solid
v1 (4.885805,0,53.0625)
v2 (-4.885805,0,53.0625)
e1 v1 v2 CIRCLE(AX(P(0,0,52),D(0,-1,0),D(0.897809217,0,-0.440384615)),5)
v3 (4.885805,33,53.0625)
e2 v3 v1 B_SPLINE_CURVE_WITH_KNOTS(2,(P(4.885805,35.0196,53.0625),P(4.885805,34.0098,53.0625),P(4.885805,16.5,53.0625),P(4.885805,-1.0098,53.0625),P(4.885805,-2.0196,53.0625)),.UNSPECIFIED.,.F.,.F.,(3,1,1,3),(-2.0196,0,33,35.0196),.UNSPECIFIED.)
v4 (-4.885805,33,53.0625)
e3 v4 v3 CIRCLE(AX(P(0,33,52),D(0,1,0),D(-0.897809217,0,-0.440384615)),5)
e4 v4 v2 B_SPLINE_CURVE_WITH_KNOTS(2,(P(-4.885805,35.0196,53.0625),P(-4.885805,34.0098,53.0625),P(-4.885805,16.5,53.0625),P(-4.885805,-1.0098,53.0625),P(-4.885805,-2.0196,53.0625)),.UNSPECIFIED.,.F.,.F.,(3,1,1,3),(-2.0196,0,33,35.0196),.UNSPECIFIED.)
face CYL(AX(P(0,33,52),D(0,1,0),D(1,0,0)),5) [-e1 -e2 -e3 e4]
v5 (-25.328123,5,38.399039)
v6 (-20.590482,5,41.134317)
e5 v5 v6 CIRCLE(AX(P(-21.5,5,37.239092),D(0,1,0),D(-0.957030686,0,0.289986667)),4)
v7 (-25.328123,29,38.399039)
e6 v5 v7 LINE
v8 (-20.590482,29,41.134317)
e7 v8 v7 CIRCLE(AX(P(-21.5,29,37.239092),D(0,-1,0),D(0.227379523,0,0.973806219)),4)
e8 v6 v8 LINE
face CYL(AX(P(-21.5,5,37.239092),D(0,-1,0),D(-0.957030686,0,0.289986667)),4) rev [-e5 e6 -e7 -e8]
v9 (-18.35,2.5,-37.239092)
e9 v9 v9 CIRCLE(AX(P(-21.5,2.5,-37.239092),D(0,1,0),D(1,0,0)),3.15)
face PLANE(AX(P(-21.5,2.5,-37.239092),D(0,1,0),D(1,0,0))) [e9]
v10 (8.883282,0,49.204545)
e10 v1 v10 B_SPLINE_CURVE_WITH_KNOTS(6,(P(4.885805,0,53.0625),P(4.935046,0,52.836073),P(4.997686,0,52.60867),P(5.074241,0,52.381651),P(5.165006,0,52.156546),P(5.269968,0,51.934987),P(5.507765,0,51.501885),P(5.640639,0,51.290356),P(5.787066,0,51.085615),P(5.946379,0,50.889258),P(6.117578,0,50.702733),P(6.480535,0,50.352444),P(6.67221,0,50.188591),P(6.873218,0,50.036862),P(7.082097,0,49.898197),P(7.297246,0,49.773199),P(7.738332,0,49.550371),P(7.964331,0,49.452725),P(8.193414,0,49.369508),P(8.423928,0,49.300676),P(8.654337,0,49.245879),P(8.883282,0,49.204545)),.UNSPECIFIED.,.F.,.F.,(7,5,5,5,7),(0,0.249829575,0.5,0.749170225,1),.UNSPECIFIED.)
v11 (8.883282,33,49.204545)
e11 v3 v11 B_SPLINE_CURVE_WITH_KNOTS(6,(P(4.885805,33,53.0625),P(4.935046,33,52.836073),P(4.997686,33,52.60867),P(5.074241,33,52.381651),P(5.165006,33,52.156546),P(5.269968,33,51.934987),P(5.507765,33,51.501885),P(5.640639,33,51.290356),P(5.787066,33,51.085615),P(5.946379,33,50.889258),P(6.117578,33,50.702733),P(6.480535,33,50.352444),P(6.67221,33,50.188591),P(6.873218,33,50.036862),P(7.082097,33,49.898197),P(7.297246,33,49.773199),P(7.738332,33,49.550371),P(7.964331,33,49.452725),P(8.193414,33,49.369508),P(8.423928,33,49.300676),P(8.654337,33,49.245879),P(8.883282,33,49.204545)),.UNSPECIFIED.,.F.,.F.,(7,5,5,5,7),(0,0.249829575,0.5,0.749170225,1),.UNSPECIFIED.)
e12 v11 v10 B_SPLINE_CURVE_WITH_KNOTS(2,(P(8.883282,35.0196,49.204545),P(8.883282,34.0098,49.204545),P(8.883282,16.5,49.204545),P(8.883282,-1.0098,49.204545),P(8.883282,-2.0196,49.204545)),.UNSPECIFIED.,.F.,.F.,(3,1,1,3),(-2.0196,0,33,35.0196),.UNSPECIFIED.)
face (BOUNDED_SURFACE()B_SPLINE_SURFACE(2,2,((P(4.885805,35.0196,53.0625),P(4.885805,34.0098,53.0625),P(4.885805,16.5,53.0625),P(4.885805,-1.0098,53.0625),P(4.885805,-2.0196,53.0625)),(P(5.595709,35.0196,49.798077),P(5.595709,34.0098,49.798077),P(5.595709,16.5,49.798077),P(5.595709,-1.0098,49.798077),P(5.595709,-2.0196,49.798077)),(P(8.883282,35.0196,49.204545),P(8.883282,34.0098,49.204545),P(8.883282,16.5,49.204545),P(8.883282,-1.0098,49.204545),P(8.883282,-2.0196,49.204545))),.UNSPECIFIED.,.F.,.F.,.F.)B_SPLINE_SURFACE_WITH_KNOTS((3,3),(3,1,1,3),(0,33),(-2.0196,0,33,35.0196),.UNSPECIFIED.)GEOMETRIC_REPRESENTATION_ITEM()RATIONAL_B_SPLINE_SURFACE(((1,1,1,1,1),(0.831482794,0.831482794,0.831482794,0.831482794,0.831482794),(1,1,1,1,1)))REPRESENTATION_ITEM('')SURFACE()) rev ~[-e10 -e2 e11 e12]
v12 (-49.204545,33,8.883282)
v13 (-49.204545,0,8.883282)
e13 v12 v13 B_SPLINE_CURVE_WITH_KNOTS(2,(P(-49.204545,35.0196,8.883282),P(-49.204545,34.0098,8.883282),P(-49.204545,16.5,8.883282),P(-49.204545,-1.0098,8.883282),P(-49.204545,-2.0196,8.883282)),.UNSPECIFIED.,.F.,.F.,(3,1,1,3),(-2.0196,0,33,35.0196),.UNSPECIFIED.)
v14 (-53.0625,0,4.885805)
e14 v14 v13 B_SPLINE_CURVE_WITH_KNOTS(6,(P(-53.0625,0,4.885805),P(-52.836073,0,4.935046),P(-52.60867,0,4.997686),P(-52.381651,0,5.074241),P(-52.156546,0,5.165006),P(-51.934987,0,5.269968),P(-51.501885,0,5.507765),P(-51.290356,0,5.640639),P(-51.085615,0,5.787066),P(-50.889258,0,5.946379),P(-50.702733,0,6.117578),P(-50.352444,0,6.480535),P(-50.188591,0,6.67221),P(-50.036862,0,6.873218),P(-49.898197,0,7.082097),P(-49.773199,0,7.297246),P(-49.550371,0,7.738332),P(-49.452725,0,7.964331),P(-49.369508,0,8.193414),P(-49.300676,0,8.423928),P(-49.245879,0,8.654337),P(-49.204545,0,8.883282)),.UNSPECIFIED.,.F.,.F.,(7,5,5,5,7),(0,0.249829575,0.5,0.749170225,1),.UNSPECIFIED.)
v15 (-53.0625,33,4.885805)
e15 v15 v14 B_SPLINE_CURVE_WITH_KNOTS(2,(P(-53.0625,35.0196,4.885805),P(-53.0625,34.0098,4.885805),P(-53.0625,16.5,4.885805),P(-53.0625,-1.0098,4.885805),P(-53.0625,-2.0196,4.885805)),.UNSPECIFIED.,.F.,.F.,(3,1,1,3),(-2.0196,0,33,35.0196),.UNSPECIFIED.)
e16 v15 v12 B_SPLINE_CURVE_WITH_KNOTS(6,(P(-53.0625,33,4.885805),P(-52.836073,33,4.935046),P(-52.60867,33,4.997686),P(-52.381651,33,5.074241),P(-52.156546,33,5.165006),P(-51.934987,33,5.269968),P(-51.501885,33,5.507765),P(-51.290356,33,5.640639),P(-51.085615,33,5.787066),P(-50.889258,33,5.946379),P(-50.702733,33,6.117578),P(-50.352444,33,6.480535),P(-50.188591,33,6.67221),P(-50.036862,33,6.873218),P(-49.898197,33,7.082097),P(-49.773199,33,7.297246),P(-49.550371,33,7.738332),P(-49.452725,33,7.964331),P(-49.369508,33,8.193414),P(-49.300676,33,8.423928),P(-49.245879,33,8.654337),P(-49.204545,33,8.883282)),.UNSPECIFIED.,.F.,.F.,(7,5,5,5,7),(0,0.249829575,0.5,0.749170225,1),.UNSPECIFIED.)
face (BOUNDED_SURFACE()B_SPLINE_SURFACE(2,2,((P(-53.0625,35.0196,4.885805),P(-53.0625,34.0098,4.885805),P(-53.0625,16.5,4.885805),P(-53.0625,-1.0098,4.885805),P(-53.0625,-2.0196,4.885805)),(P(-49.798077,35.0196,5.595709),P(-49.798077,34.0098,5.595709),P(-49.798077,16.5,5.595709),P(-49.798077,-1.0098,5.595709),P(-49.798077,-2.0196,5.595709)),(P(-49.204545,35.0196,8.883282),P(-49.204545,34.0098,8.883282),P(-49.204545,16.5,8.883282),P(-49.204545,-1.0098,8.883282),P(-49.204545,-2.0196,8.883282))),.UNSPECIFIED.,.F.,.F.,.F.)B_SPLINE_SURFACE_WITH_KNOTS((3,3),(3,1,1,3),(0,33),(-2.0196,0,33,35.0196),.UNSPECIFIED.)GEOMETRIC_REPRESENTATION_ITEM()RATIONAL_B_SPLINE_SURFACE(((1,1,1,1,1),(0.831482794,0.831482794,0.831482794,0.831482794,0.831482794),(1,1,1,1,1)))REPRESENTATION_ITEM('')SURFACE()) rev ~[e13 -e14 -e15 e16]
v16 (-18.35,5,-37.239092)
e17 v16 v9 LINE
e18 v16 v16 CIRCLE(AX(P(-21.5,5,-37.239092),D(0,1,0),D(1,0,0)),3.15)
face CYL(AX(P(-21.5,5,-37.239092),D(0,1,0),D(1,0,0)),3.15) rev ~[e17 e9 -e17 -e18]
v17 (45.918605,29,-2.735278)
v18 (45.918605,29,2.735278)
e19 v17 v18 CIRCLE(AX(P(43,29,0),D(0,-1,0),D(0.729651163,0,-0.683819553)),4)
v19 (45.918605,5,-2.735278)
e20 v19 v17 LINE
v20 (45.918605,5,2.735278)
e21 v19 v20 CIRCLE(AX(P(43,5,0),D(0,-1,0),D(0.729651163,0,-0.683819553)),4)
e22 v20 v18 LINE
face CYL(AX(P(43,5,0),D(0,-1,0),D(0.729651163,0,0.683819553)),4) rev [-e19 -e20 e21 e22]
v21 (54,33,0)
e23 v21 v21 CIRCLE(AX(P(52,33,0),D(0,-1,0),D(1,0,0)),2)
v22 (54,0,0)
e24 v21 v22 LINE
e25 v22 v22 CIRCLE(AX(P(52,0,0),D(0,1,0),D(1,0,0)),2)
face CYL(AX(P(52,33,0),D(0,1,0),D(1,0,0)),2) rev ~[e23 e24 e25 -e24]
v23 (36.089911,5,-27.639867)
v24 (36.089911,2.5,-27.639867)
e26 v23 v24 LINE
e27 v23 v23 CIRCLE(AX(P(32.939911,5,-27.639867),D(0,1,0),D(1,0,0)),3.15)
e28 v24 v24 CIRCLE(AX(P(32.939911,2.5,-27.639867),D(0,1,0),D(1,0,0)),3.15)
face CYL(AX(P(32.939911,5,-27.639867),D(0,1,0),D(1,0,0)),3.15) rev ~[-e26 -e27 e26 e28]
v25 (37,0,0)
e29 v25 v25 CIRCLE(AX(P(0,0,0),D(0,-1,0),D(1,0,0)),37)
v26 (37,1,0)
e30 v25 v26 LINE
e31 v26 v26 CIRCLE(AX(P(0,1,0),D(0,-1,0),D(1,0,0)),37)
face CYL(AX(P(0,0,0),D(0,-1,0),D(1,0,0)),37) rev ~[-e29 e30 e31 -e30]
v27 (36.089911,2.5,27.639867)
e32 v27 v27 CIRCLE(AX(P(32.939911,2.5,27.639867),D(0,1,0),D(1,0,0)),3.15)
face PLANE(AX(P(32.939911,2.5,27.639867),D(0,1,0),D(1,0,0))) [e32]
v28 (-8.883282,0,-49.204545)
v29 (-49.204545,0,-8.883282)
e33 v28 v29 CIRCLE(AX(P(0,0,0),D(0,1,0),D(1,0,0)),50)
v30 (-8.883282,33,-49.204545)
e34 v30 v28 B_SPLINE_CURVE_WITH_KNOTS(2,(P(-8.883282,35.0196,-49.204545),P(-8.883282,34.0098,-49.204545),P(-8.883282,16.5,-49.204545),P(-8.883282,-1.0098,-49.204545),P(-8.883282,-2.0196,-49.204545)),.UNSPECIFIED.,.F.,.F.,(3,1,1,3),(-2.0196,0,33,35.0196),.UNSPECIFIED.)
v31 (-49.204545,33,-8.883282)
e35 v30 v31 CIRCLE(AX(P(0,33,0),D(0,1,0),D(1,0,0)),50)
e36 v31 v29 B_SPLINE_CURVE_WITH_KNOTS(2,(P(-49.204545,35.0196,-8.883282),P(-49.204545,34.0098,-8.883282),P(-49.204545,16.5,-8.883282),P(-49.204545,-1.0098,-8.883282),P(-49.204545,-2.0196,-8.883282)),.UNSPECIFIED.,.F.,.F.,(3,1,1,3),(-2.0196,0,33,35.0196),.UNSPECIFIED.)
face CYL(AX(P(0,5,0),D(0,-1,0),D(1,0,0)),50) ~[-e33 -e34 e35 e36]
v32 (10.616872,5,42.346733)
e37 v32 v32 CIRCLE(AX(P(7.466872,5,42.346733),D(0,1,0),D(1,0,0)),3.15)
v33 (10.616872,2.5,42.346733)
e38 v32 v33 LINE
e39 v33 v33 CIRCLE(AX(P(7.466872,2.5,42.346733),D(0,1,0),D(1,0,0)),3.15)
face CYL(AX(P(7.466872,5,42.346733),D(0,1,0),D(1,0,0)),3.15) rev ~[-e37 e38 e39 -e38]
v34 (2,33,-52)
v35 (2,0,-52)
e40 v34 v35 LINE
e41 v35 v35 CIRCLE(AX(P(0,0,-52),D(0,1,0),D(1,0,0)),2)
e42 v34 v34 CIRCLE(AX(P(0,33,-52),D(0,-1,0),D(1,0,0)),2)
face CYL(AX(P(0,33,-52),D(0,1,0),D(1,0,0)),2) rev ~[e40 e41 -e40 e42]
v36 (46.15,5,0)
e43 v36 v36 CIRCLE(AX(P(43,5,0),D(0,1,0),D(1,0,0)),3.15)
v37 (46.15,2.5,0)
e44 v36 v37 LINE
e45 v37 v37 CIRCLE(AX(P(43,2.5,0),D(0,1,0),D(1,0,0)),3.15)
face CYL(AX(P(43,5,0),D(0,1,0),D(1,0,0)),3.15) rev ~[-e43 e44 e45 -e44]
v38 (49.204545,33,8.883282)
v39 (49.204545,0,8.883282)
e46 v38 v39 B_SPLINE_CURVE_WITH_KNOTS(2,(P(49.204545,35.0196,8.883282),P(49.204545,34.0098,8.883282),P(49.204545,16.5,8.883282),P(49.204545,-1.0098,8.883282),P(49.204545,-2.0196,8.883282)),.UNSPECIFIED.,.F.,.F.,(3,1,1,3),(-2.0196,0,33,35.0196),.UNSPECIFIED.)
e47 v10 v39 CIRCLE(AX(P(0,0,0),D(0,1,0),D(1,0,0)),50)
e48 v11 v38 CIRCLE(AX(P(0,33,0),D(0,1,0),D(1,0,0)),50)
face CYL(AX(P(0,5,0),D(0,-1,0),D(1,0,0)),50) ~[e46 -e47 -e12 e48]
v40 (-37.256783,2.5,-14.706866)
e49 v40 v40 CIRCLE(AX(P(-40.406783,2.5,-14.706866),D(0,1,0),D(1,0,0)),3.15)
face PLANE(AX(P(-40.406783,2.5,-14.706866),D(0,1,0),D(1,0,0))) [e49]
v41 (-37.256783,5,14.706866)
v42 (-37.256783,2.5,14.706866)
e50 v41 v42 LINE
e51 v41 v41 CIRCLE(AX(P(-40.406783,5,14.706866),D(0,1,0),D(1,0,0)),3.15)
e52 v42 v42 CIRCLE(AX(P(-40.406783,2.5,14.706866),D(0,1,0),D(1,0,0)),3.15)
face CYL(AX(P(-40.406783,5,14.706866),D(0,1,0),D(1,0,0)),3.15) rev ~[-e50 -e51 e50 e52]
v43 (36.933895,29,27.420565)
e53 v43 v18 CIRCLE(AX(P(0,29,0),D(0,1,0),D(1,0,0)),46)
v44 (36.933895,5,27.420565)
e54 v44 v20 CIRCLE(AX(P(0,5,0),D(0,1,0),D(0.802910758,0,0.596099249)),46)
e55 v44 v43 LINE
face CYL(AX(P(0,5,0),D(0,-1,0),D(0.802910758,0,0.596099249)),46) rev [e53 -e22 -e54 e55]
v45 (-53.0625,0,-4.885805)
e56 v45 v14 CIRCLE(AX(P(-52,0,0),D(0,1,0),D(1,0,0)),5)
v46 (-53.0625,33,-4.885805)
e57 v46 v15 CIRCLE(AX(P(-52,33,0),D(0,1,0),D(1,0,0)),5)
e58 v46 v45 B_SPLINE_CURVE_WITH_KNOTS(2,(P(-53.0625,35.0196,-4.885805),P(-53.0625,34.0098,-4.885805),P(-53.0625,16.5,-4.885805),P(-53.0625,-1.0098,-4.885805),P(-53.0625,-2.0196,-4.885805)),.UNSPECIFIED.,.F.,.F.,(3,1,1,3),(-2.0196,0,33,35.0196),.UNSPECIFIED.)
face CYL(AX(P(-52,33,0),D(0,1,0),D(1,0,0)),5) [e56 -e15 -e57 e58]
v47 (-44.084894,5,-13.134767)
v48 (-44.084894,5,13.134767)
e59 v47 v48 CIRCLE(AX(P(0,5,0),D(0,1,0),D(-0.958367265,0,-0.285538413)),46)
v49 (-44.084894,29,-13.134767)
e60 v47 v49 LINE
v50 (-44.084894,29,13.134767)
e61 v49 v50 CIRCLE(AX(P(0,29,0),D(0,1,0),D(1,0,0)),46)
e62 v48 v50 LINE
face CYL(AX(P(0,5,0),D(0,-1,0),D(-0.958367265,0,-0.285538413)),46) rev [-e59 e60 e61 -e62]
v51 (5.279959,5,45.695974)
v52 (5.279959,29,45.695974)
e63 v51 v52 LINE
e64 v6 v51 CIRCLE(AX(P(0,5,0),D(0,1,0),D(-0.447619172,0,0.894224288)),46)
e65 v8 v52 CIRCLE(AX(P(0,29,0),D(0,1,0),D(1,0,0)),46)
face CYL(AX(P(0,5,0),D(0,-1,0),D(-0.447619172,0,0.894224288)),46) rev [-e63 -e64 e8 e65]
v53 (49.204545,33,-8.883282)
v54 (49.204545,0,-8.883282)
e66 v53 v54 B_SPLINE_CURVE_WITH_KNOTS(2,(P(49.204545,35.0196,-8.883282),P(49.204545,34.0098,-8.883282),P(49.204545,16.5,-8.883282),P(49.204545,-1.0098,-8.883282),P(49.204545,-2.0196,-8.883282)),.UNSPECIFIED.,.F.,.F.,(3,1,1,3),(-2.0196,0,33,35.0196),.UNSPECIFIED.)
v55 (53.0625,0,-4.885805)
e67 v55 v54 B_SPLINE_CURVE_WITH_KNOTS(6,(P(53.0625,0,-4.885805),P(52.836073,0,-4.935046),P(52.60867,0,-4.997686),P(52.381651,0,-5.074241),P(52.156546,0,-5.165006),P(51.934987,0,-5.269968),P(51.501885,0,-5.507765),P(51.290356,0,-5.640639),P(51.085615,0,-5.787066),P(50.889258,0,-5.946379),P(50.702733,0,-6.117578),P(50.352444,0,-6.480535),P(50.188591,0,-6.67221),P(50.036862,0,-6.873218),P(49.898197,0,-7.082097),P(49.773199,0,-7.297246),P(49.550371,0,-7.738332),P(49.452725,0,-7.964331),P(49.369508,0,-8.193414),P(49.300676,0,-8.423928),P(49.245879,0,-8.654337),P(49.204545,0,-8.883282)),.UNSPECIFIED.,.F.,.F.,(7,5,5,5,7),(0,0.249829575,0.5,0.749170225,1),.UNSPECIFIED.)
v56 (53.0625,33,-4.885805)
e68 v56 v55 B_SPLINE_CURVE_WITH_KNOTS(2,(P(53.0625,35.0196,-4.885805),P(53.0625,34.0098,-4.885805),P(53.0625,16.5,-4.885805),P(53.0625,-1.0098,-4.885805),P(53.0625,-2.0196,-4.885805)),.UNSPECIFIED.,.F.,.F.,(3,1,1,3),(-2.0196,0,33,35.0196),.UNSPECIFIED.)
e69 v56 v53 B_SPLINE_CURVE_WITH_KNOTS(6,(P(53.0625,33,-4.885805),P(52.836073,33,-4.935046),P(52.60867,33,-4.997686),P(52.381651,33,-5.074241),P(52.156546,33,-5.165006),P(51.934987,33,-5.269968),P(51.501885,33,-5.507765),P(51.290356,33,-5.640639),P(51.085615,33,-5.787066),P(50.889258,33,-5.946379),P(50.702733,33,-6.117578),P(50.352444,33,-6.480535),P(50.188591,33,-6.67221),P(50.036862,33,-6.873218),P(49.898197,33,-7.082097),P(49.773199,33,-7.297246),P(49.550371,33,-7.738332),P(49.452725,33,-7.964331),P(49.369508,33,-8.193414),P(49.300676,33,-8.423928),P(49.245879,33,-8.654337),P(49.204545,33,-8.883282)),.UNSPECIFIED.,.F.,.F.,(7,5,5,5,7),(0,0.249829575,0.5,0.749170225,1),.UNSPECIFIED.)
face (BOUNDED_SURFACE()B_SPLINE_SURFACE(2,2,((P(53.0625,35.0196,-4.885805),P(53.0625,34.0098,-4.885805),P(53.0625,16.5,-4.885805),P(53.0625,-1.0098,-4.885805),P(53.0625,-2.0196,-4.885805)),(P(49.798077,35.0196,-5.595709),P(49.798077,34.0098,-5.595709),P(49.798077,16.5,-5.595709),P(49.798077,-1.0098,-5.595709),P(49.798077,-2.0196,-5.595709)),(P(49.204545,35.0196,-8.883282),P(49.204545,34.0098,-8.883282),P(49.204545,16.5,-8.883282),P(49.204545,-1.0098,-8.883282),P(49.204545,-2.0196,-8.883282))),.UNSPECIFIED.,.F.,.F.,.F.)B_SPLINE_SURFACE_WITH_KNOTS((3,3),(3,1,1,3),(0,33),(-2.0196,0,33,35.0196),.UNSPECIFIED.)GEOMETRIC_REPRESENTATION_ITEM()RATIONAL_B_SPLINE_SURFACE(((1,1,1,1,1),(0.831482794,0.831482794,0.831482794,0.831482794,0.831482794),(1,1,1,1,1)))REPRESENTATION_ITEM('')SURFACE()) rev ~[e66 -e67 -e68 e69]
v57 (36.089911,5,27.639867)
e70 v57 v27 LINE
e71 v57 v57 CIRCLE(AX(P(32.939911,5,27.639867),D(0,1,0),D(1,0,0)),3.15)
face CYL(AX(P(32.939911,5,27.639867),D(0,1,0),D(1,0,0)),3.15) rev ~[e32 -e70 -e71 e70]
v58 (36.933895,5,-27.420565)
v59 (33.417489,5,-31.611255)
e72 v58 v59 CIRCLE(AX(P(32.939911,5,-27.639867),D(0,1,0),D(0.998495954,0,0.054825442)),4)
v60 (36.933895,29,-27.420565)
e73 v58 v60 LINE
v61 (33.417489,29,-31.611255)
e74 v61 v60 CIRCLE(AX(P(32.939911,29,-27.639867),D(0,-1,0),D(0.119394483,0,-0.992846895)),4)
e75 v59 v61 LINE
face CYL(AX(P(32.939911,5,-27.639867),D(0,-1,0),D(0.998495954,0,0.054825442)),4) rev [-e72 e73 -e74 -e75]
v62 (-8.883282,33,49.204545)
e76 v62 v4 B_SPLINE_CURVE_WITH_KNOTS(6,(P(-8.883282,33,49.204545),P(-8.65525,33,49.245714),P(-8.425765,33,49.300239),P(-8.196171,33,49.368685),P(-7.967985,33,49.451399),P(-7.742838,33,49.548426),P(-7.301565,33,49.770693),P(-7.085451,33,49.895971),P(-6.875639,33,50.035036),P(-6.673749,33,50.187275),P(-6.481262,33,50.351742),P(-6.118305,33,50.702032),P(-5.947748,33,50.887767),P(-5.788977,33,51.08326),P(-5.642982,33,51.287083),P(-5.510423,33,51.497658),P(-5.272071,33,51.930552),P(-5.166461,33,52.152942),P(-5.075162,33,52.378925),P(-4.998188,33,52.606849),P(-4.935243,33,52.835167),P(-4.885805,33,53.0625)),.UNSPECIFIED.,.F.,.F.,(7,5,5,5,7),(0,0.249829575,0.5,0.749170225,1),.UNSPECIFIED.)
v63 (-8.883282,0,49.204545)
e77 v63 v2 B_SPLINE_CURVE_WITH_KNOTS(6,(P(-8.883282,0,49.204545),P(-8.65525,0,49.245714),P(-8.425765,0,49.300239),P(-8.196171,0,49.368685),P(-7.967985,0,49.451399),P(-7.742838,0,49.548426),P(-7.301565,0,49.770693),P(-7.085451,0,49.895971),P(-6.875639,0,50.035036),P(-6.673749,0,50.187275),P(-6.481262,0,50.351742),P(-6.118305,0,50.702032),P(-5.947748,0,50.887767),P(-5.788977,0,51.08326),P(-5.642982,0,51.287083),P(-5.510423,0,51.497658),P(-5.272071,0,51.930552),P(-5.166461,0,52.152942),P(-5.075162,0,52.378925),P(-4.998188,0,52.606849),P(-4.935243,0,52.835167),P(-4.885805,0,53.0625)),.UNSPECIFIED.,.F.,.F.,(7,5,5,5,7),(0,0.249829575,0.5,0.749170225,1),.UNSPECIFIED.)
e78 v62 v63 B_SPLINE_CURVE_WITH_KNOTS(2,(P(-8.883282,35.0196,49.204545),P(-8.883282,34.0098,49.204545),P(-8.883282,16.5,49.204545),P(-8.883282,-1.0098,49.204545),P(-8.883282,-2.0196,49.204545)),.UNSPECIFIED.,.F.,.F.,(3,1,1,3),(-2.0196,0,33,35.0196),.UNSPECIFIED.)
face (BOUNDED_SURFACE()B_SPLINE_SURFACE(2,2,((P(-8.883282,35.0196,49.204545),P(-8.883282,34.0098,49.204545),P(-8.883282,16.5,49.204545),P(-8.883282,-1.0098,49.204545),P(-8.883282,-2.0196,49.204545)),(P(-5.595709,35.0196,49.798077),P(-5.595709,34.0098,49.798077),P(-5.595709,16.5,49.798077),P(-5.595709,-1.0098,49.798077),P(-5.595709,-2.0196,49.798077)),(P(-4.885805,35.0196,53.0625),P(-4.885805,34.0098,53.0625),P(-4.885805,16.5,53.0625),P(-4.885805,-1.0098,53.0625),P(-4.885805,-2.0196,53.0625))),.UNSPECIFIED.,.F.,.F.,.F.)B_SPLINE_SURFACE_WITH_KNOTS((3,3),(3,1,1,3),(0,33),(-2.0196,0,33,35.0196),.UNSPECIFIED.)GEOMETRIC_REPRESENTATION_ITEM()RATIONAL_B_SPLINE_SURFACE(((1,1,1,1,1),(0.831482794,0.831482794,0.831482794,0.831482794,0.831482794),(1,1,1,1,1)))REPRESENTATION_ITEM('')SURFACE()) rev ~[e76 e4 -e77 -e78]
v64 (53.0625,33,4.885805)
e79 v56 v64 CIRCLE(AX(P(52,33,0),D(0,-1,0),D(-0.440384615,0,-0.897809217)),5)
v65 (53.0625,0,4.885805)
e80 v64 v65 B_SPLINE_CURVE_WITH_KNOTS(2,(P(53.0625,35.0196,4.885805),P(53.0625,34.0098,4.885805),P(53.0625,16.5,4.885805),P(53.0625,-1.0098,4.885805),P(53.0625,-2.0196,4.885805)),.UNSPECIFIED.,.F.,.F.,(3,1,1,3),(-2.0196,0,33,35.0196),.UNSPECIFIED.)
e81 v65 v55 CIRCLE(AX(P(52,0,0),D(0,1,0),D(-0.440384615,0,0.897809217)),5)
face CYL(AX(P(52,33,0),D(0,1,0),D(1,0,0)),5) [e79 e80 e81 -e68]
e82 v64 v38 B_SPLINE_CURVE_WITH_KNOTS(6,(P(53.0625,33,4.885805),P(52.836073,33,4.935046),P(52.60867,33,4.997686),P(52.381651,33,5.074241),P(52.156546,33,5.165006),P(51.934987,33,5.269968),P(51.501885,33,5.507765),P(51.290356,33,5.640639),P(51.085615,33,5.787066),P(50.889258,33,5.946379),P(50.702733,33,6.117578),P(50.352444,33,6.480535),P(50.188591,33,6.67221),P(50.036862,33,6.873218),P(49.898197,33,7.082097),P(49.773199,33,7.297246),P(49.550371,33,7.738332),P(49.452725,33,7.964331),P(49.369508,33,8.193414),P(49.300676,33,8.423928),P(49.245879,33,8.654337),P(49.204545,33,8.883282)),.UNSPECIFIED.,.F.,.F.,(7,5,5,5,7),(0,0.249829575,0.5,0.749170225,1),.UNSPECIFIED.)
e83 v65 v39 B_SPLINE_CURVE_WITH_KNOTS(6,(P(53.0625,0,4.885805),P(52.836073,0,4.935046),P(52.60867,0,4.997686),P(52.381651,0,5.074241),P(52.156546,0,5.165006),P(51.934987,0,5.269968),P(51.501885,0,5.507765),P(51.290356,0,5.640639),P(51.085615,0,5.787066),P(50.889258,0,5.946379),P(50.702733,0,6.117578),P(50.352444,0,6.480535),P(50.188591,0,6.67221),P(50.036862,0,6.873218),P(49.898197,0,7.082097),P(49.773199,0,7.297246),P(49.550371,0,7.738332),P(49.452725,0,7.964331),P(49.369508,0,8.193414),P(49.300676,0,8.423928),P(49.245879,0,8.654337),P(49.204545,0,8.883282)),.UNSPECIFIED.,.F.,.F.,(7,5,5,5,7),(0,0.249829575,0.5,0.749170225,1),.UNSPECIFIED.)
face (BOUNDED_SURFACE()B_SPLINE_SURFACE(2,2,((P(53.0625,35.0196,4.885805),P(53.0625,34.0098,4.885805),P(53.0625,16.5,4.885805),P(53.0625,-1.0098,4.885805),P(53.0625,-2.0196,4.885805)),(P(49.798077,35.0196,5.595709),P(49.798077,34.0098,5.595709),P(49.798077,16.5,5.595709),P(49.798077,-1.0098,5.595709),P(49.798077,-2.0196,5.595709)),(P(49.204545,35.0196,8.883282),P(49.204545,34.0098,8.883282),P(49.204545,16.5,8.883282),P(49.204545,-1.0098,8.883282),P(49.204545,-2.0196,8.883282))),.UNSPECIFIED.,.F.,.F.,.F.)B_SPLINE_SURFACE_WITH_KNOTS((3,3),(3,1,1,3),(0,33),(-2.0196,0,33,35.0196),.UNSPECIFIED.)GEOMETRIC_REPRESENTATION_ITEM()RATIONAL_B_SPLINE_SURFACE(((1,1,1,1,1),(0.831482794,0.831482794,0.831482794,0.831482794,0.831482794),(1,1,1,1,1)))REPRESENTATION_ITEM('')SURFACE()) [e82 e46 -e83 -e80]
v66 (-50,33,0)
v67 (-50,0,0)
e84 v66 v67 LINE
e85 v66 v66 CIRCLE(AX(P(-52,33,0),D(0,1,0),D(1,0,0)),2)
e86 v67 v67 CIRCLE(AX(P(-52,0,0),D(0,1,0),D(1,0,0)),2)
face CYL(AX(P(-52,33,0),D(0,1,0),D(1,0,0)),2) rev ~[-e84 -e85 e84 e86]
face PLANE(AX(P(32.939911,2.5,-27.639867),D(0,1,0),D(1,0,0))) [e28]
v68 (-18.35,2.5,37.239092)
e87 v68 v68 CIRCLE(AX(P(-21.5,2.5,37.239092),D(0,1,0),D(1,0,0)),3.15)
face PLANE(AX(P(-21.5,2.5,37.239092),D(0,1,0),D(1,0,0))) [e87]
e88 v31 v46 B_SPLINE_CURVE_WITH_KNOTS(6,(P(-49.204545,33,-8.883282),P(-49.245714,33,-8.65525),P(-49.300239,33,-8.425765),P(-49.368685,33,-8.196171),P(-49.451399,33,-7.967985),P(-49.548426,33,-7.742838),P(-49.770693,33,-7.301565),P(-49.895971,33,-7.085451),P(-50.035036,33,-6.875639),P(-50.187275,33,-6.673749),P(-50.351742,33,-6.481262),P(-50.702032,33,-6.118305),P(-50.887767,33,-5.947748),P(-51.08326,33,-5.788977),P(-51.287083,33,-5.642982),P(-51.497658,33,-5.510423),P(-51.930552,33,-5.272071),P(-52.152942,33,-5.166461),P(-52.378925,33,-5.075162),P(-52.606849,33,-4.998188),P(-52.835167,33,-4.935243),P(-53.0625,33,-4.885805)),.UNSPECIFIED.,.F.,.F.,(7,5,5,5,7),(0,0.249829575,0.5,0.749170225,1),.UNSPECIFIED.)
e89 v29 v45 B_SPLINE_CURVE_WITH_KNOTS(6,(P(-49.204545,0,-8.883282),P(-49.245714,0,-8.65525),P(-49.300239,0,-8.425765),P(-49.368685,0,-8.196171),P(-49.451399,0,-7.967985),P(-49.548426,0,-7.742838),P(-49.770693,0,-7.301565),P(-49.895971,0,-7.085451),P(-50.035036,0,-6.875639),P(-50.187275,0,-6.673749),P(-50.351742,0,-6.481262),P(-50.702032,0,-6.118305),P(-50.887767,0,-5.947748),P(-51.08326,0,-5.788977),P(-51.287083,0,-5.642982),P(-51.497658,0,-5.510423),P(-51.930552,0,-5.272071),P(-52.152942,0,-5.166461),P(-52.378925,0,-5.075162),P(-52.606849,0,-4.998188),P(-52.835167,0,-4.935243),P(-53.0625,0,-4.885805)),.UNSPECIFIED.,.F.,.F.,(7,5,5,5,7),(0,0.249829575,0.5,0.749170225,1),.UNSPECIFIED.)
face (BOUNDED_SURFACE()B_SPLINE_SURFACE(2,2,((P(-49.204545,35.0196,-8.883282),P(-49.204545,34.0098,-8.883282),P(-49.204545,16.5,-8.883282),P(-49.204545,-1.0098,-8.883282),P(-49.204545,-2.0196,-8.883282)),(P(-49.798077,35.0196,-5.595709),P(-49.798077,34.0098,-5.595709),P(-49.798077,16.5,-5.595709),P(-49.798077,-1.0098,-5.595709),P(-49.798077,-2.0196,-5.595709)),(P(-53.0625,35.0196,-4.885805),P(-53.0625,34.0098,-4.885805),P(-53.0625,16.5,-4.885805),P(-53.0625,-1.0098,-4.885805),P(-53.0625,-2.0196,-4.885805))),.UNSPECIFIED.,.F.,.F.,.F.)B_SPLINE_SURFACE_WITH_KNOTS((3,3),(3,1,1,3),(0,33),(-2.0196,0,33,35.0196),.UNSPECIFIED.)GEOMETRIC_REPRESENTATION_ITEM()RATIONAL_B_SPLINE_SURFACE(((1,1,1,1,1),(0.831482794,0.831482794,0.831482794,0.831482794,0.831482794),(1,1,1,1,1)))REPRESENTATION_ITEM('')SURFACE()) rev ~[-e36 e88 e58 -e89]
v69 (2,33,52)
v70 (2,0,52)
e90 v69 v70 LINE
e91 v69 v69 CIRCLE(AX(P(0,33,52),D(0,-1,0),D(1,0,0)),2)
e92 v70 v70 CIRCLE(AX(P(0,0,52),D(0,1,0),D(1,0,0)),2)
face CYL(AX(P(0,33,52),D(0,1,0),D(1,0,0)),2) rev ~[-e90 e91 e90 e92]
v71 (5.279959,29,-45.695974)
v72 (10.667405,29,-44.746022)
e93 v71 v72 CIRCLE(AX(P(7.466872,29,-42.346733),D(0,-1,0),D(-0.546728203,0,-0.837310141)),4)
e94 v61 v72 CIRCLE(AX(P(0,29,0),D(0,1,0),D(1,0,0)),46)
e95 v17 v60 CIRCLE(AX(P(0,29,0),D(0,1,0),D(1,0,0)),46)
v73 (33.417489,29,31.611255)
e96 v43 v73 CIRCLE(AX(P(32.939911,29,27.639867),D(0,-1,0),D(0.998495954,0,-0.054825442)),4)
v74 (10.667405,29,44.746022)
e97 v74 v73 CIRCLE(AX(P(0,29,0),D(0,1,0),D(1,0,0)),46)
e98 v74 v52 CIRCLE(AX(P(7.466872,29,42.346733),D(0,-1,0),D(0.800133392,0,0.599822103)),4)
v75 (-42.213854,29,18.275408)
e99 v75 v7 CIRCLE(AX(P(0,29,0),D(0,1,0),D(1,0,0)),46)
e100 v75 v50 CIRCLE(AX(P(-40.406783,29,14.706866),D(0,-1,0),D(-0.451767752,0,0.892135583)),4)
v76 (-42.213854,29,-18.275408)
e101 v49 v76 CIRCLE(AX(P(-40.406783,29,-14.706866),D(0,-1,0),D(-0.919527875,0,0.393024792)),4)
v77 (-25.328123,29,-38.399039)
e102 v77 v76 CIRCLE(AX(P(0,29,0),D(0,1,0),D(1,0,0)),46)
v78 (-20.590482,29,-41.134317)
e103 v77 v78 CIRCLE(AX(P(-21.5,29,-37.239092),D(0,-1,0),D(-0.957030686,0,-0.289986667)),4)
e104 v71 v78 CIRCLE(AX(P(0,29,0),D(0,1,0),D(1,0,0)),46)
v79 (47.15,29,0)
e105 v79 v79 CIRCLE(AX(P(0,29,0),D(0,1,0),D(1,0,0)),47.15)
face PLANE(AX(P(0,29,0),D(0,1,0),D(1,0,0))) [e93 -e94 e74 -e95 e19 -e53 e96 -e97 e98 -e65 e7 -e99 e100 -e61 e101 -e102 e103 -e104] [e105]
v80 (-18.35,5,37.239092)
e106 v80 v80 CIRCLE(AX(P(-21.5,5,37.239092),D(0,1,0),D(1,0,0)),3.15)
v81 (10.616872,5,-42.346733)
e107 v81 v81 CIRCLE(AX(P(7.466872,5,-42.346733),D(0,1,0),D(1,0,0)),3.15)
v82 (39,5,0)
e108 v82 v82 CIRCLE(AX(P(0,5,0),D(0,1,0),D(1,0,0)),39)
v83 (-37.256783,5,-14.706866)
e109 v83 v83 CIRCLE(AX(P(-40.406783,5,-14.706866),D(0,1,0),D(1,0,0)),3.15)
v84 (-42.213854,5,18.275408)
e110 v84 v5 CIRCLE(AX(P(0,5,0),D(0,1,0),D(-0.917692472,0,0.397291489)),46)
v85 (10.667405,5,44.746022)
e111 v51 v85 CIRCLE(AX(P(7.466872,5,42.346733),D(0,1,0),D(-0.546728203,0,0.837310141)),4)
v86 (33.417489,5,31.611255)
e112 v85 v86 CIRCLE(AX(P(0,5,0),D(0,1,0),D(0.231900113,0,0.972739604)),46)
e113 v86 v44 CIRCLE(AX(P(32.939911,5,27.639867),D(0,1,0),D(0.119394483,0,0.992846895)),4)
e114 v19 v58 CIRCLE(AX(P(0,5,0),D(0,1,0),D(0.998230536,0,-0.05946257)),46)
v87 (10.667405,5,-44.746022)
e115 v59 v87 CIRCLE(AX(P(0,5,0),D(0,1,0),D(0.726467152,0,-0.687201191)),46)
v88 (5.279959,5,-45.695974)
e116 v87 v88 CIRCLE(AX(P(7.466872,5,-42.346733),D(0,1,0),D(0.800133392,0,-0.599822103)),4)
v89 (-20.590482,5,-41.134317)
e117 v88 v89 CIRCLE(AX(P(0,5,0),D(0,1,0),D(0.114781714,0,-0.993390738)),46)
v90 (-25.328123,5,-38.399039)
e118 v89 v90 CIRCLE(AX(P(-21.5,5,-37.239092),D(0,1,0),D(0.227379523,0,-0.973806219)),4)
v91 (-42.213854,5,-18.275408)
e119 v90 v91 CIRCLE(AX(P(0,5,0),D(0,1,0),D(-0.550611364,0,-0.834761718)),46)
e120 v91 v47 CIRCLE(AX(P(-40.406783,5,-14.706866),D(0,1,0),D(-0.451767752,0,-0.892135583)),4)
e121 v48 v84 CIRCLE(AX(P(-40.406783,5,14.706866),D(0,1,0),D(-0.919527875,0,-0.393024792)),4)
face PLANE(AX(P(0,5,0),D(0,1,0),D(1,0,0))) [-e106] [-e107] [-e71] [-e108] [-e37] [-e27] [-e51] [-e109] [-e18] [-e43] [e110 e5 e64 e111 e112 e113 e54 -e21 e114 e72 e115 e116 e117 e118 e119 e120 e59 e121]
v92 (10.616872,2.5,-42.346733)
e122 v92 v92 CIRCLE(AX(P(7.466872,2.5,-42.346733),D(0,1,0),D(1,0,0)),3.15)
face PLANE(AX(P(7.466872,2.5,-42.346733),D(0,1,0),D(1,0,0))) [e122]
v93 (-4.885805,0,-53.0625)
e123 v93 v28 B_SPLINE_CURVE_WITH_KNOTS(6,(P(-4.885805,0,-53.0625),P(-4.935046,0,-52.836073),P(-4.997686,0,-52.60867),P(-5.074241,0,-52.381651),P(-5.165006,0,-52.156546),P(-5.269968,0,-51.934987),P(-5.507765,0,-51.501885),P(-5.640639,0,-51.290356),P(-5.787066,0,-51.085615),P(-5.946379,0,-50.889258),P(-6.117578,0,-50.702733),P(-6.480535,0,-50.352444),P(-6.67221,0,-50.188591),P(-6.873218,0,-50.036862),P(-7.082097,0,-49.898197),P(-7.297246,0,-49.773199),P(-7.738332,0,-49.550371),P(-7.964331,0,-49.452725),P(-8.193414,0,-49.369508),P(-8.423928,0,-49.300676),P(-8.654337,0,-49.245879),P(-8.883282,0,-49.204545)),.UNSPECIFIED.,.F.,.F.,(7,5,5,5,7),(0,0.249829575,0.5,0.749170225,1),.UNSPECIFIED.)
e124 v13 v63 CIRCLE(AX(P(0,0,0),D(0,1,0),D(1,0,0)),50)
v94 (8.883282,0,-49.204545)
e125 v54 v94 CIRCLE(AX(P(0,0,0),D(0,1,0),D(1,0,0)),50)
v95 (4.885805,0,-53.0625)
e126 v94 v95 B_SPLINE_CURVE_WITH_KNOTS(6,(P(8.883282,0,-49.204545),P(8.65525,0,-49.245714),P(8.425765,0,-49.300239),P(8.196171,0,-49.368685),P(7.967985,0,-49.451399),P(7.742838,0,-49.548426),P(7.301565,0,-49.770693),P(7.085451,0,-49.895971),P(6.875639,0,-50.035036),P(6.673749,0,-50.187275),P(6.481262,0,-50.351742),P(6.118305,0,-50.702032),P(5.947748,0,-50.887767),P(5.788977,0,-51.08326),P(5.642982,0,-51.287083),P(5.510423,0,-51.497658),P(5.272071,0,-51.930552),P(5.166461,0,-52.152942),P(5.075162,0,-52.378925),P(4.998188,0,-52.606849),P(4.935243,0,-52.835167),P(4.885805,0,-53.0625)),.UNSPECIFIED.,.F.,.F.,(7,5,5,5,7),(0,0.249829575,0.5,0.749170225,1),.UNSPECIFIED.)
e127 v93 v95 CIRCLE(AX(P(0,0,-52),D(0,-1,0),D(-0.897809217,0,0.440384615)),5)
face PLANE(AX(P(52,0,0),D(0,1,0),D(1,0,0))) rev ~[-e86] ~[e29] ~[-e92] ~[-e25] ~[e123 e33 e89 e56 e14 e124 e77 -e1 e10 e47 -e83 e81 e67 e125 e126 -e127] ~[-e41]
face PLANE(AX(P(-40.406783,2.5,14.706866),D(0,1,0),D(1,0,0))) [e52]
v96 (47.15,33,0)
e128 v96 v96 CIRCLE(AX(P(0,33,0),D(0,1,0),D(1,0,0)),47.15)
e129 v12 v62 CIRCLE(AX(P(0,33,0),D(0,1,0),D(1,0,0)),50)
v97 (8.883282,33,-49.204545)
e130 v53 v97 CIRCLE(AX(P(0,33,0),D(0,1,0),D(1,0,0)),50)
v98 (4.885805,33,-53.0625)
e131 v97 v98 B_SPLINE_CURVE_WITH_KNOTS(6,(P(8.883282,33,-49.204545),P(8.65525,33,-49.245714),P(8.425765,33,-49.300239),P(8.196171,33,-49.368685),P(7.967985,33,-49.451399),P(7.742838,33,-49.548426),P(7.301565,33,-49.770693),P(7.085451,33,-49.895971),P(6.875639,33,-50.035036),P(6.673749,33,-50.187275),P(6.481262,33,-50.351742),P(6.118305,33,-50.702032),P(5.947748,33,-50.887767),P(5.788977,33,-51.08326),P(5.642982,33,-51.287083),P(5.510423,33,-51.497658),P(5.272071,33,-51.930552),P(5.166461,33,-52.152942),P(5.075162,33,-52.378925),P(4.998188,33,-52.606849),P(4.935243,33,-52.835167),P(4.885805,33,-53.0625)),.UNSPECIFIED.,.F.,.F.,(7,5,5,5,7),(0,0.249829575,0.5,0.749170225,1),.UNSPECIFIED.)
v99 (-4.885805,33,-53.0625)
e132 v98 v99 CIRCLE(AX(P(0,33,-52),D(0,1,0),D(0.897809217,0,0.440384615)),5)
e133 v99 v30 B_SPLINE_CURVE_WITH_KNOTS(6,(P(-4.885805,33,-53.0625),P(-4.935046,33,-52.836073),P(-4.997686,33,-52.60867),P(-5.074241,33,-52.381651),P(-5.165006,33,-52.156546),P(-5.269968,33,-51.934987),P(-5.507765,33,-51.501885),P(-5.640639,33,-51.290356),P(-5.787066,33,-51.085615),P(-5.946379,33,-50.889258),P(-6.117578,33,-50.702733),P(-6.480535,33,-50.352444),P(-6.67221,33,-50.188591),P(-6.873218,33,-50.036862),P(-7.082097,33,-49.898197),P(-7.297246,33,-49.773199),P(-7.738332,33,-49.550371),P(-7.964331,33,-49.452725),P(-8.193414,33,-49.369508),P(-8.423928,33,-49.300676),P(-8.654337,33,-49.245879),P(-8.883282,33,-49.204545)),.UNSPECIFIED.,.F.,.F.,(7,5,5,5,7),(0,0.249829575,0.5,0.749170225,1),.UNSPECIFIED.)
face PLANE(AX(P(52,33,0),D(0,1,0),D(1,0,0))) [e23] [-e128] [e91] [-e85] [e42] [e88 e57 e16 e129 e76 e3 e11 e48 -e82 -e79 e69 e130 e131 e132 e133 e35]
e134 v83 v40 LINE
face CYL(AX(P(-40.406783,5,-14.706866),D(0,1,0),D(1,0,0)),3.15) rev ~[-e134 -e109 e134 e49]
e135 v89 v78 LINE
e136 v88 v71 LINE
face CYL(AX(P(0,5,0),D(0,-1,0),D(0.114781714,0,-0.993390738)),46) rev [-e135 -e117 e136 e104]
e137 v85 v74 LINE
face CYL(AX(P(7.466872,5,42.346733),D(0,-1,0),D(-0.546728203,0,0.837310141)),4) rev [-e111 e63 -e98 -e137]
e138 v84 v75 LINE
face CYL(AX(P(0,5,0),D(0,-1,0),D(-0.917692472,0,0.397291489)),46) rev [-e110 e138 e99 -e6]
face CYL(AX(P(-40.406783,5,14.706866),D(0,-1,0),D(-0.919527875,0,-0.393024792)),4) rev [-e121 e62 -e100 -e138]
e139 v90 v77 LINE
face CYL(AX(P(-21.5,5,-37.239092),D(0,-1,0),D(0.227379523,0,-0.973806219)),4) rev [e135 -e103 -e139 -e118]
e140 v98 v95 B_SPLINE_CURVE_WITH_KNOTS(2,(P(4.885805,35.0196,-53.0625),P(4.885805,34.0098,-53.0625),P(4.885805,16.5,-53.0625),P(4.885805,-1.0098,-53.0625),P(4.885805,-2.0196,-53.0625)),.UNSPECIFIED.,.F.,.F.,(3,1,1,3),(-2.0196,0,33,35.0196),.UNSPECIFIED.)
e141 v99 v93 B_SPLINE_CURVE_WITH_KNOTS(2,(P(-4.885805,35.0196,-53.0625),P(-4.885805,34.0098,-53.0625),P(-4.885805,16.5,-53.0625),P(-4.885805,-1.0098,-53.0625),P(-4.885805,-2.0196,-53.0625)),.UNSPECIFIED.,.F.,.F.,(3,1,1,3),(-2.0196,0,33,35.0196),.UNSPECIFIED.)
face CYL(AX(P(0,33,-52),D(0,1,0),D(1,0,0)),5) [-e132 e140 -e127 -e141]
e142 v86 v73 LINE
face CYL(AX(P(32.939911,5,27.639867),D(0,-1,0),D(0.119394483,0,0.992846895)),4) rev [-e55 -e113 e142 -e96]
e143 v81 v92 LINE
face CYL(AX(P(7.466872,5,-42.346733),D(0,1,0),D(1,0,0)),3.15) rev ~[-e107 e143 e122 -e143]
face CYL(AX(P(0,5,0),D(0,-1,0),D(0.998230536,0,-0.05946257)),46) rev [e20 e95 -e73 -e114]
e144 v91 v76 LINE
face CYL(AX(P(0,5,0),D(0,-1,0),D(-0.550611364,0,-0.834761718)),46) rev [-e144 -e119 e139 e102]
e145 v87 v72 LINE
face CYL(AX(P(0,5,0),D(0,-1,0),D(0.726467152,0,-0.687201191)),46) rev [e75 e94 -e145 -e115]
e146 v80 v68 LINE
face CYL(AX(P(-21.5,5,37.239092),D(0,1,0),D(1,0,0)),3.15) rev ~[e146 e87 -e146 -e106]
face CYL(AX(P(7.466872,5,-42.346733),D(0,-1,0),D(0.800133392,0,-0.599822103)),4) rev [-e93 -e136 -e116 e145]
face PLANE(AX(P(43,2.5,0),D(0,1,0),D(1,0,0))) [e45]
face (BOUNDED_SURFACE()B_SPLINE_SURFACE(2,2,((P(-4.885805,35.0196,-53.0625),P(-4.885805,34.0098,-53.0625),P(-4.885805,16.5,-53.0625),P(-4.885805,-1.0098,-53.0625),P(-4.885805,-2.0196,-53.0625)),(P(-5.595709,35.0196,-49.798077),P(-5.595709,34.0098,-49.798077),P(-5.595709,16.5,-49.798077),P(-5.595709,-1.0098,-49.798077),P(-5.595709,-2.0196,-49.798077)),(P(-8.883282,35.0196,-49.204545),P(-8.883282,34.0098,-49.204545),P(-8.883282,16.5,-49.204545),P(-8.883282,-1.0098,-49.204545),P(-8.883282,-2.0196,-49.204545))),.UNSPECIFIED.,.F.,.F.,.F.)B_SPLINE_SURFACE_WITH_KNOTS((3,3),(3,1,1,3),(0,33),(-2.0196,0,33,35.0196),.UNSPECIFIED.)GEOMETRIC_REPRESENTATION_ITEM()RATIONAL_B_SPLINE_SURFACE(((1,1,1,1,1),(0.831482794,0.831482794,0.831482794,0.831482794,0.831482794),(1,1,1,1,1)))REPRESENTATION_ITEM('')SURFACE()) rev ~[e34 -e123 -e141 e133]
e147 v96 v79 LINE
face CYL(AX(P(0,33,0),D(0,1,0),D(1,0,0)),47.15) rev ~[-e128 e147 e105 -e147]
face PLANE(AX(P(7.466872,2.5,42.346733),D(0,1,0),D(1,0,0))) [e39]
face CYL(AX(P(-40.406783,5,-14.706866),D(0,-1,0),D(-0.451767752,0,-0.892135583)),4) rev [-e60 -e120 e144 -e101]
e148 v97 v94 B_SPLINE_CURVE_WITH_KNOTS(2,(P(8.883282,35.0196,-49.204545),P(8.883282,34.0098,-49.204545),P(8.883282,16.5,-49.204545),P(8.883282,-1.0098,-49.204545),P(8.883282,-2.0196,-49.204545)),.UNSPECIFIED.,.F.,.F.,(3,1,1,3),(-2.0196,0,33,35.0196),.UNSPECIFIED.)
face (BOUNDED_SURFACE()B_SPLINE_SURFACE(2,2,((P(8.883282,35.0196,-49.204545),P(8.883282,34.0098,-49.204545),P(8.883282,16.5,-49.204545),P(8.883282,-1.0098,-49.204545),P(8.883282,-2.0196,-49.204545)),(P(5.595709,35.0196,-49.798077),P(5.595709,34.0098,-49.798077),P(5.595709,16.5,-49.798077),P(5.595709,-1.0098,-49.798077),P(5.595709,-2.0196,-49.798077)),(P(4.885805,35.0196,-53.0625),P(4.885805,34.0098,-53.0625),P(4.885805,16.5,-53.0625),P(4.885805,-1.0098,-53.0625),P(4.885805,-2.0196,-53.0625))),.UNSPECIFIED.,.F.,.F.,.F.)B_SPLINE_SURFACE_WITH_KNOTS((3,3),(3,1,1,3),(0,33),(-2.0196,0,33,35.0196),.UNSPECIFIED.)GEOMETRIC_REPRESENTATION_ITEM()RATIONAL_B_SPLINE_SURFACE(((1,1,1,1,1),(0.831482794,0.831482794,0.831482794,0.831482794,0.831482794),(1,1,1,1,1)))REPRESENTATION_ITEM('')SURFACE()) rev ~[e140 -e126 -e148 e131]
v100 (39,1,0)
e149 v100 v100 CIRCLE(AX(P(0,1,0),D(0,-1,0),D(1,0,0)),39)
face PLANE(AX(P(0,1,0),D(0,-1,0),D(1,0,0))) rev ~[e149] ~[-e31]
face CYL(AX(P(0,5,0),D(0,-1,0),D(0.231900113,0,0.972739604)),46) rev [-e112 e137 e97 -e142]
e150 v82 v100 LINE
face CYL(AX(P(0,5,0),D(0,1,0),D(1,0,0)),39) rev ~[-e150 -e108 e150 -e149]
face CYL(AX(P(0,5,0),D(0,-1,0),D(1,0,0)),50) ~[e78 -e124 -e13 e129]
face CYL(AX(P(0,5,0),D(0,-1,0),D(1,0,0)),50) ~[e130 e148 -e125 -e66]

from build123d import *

# Parameters (mm, degrees)
SKETCH1_R           = 50
BOSS_EXTRUDE1_DEPTH = 5
SKETCH2_R           = 3
BOSS_EXTRUDE2_DEPTH = 30
SKETCH3_R           = 50
BOSS_EXTRUDE3_DEPTH = 28
SKETCH4_R           = 39
CUT_EXTRUDE1_DEPTH  = 6
SKETCH5_R           = 3
CUT_EXTRUDE2_DEPTH  = 44
SKETCH6_R           = 50
SKETCH6_R_2         = 39
BOSS_EXTRUDE4_DEPTH = 3
SKETCH7_R           = 47
SKETCH7_R_2         = 46
CUT_EXTRUDE3_DEPTH  = 4
SKETCH8_R           = 39
SKETCH8_R_2         = 37
BOSS_EXTRUDE5_DEPTH = 1
SKETCH9_R           = 5
SKETCH9_R_2         = 2
BOSS_EXTRUDE6_DEPTH = 33
FILLET1_R           = 5
SKETCH10_R          = 3.15
CUT_EXTRUDE6_DEPTH  = 2.5
SKETCH11_R          = 47.15
CUT_EXTRUDE7_DEPTH  = 4


with BuildPart() as part:
    # Sketch1 → Boss-Extrude1 (new body)
    with BuildSketch(Plane(origin=(0, 0, 0), x_dir=(1, 0, 0), z_dir=(0, 1, 0))):
        Circle(SKETCH1_R)
    extrude(amount=BOSS_EXTRUDE1_DEPTH)

    # Sketch2 → Boss-Extrude2 (add)
    with BuildSketch(Plane(origin=(0, 5, 0), x_dir=(1, 0, 0), z_dir=(0, 1, 0))):
        with Locations((43, 0)):
            Circle(SKETCH2_R)
        with Locations((32.939911054, -27.639867217)):
            Circle(SKETCH2_R)
        with Locations((7.46687164, -42.34673338)):
            Circle(SKETCH2_R)
        with Locations((-21.5, -37.239092363)):
            Circle(SKETCH2_R)
        with Locations((-40.406782694, -14.706866163)):
            Circle(SKETCH2_R)
        with Locations((-40.406782694, 14.706866163)):
            Circle(SKETCH2_R)
        with Locations((-21.5, 37.239092363)):
            Circle(SKETCH2_R)
        with Locations((7.46687164, 42.34673338)):
            Circle(SKETCH2_R)
        with Locations((32.939911054, 27.639867217)):
            Circle(SKETCH2_R)
    extrude(amount=BOSS_EXTRUDE2_DEPTH)

    # Sketch3 → Boss-Extrude3 (add)
    with BuildSketch(Plane(origin=(0, 5, 0), x_dir=(1, 0, 0), z_dir=(0, 1, 0))):
        Circle(SKETCH3_R)
        with BuildLine():
            ThreePointArc((45.918604651, 2.735278211), (43.225860556, 15.732926593), (36.933894872, 27.42056545))
            ThreePointArc((36.933894872, 27.42056545), (36.004088827, 30.211017655), (33.417488986, 31.611254798))
            ThreePointArc((33.417488986, 31.611254798), (23, 39.837168574), (10.667405207, 44.746021791))
            ThreePointArc((10.667405207, 44.746021791), (8.16146435, 46.285964392), (5.27995883, 45.695973945))
            ThreePointArc((5.27995883, 45.695973945), (-7.987816173, 45.301156639), (-20.590481909, 41.13431724))
            ThreePointArc((-20.590481909, 41.13431724), (-23.5, 40.703193978), (-25.328122743, 38.399039029))
            ThreePointArc((-25.328122743, 38.399039029), (-35.238044383, 29.568230046), (-42.213853702, 18.275408495))
            ThreePointArc((-42.213853702, 18.275408495), (-44.165553177, 16.074946736), (-44.084894193, 13.134766994))
            ThreePointArc((-44.084894193, 13.134766994), (-46, 0), (-44.084894193, -13.134766994))
            ThreePointArc((-44.084894193, -13.134766994), (-44.165553177, -16.074946736), (-42.213853702, -18.275408495))
            ThreePointArc((-42.213853702, -18.275408495), (-35.238044383, -29.568230046), (-25.328122743, -38.399039029))
            ThreePointArc((-25.328122743, -38.399039029), (-23.5, -40.703193978), (-20.590481909, -41.13431724))
            ThreePointArc((-20.590481909, -41.13431724), (-7.987816173, -45.301156639), (5.27995883, -45.695973945))
            ThreePointArc((5.27995883, -45.695973945), (8.16146435, -46.285964392), (10.667405207, -44.746021791))
            ThreePointArc((10.667405207, -44.746021791), (23, -39.837168574), (33.417488986, -31.611254798))
            ThreePointArc((33.417488986, -31.611254798), (36.004088827, -30.211017655), (36.933894872, -27.42056545))
            ThreePointArc((36.933894872, -27.42056545), (43.225860556, -15.732926593), (45.918604651, -2.735278211))
            ThreePointArc((45.918604651, -2.735278211), (47, 0), (45.918604651, 2.735278211))
        make_face(mode=Mode.SUBTRACT)
    extrude(amount=BOSS_EXTRUDE3_DEPTH)

    # Sketch4 → Cut-Extrude1 (cut)
    with BuildSketch(Plane(origin=(0, 5, 0), x_dir=(1, 0, 0), z_dir=(0, 1, 0))):
        Circle(SKETCH4_R)
    extrude(amount=-CUT_EXTRUDE1_DEPTH, mode=Mode.SUBTRACT)

    # Sketch5 → Cut-Extrude2 (cut, symmetric)
    with BuildSketch(Plane(origin=(0, 5, 0), x_dir=(1, 0, 0), z_dir=(0, 1, 0))):
        with Locations((43, 0)):
            Circle(SKETCH5_R)
        with Locations((32.939911054, -27.639867217)):
            Circle(SKETCH5_R)
        with Locations((7.46687164, -42.34673338)):
            Circle(SKETCH5_R)
        with Locations((-21.5, -37.239092363)):
            Circle(SKETCH5_R)
        with Locations((-40.406782694, -14.706866163)):
            Circle(SKETCH5_R)
        with Locations((-40.406782694, 14.706866163)):
            Circle(SKETCH5_R)
        with Locations((-21.5, 37.239092363)):
            Circle(SKETCH5_R)
        with Locations((7.46687164, 42.34673338)):
            Circle(SKETCH5_R)
        with Locations((32.939911054, 27.639867217)):
            Circle(SKETCH5_R)
    extrude(amount=CUT_EXTRUDE2_DEPTH, both=True, mode=Mode.SUBTRACT)

    # Sketch6 → Boss-Extrude4 (add)
    with BuildSketch(Plane.XZ):
        Circle(SKETCH6_R)
        Circle(SKETCH6_R_2, mode=Mode.SUBTRACT)
    extrude(amount=-BOSS_EXTRUDE4_DEPTH)

    # Sketch7 → Cut-Extrude3 (cut)
    with BuildSketch(Plane(origin=(0, 33, 0), x_dir=(1, 0, 0), z_dir=(0, 1, 0))):
        Circle(SKETCH7_R)
        Circle(SKETCH7_R_2, mode=Mode.SUBTRACT)
    extrude(amount=-CUT_EXTRUDE3_DEPTH, mode=Mode.SUBTRACT)

    # Sketch8 → Boss-Extrude5 (add)
    with BuildSketch(Plane.XZ):
        Circle(SKETCH8_R)
        Circle(SKETCH8_R_2, mode=Mode.SUBTRACT)
    extrude(amount=-BOSS_EXTRUDE5_DEPTH)

    # Sketch9 → Boss-Extrude6 (add)
    with BuildSketch(Plane(origin=(0, 33, 0), x_dir=(1, 0, 0), z_dir=(0, 1, 0))):
        with Locations((52, 0)):
            Circle(SKETCH9_R)
        with Locations((52, 0)):
            Circle(SKETCH9_R_2, mode=Mode.SUBTRACT)
        with Locations((-52, 0)):
            Circle(SKETCH9_R)
        with Locations((-52, 0)):
            Circle(SKETCH9_R_2, mode=Mode.SUBTRACT)
        with Locations((0, 52)):
            Circle(SKETCH9_R)
        with Locations((0, 52)):
            Circle(SKETCH9_R_2, mode=Mode.SUBTRACT)
        with Locations((0, -52)):
            Circle(SKETCH9_R)
        with Locations((0, -52)):
            Circle(SKETCH9_R_2, mode=Mode.SUBTRACT)
    extrude(amount=-BOSS_EXTRUDE6_DEPTH)

    # Fillet1
    fillet1_edges = [part.edges().sort_by_distance(p)[0] for p in [
        (49.798076923, 16.5, 4.489046086),
        (49.798076923, 16.5, -4.489046086),
        (-49.798076923, 16.5, -4.489046086),
        (-49.798076923, 16.5, 4.489046086),
        (4.489046086, 16.5, -49.798076923),
        (-4.489046086, 16.5, -49.798076923),
        (-4.489046086, 16.5, 49.798076923),
        (4.489046086, 16.5, 49.798076923),
    ]]
    fillet(fillet1_edges, radius=FILLET1_R)

    # Sketch10 → Cut-Extrude6 (cut)
    with BuildSketch(Plane(origin=(0, 5, 0), x_dir=(1, 0, 0), z_dir=(0, 1, 0))):
        with Locations((32.939911054, -27.639867217)):
            Circle(SKETCH10_R)
        with Locations((43, 0)):
            Circle(SKETCH10_R)
        with Locations((7.46687164, -42.34673338)):
            Circle(SKETCH10_R)
        with Locations((-21.5, -37.239092363)):
            Circle(SKETCH10_R)
        with Locations((-40.406782694, -14.706866163)):
            Circle(SKETCH10_R)
        with Locations((-40.406782694, 14.706866163)):
            Circle(SKETCH10_R)
        with Locations((-21.5, 37.239092363)):
            Circle(SKETCH10_R)
        with Locations((7.46687164, 42.34673338)):
            Circle(SKETCH10_R)
        with Locations((32.939911054, 27.639867217)):
            Circle(SKETCH10_R)
    extrude(amount=-CUT_EXTRUDE6_DEPTH, mode=Mode.SUBTRACT)

    # Sketch11 → Cut-Extrude7 (cut)
    with BuildSketch(Plane(origin=(0, 33, 0), x_dir=(1, 0, 0), z_dir=(0, 1, 0))):
        Circle(SKETCH11_R)
    extrude(amount=-CUT_EXTRUDE7_DEPTH, mode=Mode.SUBTRACT)


solid = part.part
